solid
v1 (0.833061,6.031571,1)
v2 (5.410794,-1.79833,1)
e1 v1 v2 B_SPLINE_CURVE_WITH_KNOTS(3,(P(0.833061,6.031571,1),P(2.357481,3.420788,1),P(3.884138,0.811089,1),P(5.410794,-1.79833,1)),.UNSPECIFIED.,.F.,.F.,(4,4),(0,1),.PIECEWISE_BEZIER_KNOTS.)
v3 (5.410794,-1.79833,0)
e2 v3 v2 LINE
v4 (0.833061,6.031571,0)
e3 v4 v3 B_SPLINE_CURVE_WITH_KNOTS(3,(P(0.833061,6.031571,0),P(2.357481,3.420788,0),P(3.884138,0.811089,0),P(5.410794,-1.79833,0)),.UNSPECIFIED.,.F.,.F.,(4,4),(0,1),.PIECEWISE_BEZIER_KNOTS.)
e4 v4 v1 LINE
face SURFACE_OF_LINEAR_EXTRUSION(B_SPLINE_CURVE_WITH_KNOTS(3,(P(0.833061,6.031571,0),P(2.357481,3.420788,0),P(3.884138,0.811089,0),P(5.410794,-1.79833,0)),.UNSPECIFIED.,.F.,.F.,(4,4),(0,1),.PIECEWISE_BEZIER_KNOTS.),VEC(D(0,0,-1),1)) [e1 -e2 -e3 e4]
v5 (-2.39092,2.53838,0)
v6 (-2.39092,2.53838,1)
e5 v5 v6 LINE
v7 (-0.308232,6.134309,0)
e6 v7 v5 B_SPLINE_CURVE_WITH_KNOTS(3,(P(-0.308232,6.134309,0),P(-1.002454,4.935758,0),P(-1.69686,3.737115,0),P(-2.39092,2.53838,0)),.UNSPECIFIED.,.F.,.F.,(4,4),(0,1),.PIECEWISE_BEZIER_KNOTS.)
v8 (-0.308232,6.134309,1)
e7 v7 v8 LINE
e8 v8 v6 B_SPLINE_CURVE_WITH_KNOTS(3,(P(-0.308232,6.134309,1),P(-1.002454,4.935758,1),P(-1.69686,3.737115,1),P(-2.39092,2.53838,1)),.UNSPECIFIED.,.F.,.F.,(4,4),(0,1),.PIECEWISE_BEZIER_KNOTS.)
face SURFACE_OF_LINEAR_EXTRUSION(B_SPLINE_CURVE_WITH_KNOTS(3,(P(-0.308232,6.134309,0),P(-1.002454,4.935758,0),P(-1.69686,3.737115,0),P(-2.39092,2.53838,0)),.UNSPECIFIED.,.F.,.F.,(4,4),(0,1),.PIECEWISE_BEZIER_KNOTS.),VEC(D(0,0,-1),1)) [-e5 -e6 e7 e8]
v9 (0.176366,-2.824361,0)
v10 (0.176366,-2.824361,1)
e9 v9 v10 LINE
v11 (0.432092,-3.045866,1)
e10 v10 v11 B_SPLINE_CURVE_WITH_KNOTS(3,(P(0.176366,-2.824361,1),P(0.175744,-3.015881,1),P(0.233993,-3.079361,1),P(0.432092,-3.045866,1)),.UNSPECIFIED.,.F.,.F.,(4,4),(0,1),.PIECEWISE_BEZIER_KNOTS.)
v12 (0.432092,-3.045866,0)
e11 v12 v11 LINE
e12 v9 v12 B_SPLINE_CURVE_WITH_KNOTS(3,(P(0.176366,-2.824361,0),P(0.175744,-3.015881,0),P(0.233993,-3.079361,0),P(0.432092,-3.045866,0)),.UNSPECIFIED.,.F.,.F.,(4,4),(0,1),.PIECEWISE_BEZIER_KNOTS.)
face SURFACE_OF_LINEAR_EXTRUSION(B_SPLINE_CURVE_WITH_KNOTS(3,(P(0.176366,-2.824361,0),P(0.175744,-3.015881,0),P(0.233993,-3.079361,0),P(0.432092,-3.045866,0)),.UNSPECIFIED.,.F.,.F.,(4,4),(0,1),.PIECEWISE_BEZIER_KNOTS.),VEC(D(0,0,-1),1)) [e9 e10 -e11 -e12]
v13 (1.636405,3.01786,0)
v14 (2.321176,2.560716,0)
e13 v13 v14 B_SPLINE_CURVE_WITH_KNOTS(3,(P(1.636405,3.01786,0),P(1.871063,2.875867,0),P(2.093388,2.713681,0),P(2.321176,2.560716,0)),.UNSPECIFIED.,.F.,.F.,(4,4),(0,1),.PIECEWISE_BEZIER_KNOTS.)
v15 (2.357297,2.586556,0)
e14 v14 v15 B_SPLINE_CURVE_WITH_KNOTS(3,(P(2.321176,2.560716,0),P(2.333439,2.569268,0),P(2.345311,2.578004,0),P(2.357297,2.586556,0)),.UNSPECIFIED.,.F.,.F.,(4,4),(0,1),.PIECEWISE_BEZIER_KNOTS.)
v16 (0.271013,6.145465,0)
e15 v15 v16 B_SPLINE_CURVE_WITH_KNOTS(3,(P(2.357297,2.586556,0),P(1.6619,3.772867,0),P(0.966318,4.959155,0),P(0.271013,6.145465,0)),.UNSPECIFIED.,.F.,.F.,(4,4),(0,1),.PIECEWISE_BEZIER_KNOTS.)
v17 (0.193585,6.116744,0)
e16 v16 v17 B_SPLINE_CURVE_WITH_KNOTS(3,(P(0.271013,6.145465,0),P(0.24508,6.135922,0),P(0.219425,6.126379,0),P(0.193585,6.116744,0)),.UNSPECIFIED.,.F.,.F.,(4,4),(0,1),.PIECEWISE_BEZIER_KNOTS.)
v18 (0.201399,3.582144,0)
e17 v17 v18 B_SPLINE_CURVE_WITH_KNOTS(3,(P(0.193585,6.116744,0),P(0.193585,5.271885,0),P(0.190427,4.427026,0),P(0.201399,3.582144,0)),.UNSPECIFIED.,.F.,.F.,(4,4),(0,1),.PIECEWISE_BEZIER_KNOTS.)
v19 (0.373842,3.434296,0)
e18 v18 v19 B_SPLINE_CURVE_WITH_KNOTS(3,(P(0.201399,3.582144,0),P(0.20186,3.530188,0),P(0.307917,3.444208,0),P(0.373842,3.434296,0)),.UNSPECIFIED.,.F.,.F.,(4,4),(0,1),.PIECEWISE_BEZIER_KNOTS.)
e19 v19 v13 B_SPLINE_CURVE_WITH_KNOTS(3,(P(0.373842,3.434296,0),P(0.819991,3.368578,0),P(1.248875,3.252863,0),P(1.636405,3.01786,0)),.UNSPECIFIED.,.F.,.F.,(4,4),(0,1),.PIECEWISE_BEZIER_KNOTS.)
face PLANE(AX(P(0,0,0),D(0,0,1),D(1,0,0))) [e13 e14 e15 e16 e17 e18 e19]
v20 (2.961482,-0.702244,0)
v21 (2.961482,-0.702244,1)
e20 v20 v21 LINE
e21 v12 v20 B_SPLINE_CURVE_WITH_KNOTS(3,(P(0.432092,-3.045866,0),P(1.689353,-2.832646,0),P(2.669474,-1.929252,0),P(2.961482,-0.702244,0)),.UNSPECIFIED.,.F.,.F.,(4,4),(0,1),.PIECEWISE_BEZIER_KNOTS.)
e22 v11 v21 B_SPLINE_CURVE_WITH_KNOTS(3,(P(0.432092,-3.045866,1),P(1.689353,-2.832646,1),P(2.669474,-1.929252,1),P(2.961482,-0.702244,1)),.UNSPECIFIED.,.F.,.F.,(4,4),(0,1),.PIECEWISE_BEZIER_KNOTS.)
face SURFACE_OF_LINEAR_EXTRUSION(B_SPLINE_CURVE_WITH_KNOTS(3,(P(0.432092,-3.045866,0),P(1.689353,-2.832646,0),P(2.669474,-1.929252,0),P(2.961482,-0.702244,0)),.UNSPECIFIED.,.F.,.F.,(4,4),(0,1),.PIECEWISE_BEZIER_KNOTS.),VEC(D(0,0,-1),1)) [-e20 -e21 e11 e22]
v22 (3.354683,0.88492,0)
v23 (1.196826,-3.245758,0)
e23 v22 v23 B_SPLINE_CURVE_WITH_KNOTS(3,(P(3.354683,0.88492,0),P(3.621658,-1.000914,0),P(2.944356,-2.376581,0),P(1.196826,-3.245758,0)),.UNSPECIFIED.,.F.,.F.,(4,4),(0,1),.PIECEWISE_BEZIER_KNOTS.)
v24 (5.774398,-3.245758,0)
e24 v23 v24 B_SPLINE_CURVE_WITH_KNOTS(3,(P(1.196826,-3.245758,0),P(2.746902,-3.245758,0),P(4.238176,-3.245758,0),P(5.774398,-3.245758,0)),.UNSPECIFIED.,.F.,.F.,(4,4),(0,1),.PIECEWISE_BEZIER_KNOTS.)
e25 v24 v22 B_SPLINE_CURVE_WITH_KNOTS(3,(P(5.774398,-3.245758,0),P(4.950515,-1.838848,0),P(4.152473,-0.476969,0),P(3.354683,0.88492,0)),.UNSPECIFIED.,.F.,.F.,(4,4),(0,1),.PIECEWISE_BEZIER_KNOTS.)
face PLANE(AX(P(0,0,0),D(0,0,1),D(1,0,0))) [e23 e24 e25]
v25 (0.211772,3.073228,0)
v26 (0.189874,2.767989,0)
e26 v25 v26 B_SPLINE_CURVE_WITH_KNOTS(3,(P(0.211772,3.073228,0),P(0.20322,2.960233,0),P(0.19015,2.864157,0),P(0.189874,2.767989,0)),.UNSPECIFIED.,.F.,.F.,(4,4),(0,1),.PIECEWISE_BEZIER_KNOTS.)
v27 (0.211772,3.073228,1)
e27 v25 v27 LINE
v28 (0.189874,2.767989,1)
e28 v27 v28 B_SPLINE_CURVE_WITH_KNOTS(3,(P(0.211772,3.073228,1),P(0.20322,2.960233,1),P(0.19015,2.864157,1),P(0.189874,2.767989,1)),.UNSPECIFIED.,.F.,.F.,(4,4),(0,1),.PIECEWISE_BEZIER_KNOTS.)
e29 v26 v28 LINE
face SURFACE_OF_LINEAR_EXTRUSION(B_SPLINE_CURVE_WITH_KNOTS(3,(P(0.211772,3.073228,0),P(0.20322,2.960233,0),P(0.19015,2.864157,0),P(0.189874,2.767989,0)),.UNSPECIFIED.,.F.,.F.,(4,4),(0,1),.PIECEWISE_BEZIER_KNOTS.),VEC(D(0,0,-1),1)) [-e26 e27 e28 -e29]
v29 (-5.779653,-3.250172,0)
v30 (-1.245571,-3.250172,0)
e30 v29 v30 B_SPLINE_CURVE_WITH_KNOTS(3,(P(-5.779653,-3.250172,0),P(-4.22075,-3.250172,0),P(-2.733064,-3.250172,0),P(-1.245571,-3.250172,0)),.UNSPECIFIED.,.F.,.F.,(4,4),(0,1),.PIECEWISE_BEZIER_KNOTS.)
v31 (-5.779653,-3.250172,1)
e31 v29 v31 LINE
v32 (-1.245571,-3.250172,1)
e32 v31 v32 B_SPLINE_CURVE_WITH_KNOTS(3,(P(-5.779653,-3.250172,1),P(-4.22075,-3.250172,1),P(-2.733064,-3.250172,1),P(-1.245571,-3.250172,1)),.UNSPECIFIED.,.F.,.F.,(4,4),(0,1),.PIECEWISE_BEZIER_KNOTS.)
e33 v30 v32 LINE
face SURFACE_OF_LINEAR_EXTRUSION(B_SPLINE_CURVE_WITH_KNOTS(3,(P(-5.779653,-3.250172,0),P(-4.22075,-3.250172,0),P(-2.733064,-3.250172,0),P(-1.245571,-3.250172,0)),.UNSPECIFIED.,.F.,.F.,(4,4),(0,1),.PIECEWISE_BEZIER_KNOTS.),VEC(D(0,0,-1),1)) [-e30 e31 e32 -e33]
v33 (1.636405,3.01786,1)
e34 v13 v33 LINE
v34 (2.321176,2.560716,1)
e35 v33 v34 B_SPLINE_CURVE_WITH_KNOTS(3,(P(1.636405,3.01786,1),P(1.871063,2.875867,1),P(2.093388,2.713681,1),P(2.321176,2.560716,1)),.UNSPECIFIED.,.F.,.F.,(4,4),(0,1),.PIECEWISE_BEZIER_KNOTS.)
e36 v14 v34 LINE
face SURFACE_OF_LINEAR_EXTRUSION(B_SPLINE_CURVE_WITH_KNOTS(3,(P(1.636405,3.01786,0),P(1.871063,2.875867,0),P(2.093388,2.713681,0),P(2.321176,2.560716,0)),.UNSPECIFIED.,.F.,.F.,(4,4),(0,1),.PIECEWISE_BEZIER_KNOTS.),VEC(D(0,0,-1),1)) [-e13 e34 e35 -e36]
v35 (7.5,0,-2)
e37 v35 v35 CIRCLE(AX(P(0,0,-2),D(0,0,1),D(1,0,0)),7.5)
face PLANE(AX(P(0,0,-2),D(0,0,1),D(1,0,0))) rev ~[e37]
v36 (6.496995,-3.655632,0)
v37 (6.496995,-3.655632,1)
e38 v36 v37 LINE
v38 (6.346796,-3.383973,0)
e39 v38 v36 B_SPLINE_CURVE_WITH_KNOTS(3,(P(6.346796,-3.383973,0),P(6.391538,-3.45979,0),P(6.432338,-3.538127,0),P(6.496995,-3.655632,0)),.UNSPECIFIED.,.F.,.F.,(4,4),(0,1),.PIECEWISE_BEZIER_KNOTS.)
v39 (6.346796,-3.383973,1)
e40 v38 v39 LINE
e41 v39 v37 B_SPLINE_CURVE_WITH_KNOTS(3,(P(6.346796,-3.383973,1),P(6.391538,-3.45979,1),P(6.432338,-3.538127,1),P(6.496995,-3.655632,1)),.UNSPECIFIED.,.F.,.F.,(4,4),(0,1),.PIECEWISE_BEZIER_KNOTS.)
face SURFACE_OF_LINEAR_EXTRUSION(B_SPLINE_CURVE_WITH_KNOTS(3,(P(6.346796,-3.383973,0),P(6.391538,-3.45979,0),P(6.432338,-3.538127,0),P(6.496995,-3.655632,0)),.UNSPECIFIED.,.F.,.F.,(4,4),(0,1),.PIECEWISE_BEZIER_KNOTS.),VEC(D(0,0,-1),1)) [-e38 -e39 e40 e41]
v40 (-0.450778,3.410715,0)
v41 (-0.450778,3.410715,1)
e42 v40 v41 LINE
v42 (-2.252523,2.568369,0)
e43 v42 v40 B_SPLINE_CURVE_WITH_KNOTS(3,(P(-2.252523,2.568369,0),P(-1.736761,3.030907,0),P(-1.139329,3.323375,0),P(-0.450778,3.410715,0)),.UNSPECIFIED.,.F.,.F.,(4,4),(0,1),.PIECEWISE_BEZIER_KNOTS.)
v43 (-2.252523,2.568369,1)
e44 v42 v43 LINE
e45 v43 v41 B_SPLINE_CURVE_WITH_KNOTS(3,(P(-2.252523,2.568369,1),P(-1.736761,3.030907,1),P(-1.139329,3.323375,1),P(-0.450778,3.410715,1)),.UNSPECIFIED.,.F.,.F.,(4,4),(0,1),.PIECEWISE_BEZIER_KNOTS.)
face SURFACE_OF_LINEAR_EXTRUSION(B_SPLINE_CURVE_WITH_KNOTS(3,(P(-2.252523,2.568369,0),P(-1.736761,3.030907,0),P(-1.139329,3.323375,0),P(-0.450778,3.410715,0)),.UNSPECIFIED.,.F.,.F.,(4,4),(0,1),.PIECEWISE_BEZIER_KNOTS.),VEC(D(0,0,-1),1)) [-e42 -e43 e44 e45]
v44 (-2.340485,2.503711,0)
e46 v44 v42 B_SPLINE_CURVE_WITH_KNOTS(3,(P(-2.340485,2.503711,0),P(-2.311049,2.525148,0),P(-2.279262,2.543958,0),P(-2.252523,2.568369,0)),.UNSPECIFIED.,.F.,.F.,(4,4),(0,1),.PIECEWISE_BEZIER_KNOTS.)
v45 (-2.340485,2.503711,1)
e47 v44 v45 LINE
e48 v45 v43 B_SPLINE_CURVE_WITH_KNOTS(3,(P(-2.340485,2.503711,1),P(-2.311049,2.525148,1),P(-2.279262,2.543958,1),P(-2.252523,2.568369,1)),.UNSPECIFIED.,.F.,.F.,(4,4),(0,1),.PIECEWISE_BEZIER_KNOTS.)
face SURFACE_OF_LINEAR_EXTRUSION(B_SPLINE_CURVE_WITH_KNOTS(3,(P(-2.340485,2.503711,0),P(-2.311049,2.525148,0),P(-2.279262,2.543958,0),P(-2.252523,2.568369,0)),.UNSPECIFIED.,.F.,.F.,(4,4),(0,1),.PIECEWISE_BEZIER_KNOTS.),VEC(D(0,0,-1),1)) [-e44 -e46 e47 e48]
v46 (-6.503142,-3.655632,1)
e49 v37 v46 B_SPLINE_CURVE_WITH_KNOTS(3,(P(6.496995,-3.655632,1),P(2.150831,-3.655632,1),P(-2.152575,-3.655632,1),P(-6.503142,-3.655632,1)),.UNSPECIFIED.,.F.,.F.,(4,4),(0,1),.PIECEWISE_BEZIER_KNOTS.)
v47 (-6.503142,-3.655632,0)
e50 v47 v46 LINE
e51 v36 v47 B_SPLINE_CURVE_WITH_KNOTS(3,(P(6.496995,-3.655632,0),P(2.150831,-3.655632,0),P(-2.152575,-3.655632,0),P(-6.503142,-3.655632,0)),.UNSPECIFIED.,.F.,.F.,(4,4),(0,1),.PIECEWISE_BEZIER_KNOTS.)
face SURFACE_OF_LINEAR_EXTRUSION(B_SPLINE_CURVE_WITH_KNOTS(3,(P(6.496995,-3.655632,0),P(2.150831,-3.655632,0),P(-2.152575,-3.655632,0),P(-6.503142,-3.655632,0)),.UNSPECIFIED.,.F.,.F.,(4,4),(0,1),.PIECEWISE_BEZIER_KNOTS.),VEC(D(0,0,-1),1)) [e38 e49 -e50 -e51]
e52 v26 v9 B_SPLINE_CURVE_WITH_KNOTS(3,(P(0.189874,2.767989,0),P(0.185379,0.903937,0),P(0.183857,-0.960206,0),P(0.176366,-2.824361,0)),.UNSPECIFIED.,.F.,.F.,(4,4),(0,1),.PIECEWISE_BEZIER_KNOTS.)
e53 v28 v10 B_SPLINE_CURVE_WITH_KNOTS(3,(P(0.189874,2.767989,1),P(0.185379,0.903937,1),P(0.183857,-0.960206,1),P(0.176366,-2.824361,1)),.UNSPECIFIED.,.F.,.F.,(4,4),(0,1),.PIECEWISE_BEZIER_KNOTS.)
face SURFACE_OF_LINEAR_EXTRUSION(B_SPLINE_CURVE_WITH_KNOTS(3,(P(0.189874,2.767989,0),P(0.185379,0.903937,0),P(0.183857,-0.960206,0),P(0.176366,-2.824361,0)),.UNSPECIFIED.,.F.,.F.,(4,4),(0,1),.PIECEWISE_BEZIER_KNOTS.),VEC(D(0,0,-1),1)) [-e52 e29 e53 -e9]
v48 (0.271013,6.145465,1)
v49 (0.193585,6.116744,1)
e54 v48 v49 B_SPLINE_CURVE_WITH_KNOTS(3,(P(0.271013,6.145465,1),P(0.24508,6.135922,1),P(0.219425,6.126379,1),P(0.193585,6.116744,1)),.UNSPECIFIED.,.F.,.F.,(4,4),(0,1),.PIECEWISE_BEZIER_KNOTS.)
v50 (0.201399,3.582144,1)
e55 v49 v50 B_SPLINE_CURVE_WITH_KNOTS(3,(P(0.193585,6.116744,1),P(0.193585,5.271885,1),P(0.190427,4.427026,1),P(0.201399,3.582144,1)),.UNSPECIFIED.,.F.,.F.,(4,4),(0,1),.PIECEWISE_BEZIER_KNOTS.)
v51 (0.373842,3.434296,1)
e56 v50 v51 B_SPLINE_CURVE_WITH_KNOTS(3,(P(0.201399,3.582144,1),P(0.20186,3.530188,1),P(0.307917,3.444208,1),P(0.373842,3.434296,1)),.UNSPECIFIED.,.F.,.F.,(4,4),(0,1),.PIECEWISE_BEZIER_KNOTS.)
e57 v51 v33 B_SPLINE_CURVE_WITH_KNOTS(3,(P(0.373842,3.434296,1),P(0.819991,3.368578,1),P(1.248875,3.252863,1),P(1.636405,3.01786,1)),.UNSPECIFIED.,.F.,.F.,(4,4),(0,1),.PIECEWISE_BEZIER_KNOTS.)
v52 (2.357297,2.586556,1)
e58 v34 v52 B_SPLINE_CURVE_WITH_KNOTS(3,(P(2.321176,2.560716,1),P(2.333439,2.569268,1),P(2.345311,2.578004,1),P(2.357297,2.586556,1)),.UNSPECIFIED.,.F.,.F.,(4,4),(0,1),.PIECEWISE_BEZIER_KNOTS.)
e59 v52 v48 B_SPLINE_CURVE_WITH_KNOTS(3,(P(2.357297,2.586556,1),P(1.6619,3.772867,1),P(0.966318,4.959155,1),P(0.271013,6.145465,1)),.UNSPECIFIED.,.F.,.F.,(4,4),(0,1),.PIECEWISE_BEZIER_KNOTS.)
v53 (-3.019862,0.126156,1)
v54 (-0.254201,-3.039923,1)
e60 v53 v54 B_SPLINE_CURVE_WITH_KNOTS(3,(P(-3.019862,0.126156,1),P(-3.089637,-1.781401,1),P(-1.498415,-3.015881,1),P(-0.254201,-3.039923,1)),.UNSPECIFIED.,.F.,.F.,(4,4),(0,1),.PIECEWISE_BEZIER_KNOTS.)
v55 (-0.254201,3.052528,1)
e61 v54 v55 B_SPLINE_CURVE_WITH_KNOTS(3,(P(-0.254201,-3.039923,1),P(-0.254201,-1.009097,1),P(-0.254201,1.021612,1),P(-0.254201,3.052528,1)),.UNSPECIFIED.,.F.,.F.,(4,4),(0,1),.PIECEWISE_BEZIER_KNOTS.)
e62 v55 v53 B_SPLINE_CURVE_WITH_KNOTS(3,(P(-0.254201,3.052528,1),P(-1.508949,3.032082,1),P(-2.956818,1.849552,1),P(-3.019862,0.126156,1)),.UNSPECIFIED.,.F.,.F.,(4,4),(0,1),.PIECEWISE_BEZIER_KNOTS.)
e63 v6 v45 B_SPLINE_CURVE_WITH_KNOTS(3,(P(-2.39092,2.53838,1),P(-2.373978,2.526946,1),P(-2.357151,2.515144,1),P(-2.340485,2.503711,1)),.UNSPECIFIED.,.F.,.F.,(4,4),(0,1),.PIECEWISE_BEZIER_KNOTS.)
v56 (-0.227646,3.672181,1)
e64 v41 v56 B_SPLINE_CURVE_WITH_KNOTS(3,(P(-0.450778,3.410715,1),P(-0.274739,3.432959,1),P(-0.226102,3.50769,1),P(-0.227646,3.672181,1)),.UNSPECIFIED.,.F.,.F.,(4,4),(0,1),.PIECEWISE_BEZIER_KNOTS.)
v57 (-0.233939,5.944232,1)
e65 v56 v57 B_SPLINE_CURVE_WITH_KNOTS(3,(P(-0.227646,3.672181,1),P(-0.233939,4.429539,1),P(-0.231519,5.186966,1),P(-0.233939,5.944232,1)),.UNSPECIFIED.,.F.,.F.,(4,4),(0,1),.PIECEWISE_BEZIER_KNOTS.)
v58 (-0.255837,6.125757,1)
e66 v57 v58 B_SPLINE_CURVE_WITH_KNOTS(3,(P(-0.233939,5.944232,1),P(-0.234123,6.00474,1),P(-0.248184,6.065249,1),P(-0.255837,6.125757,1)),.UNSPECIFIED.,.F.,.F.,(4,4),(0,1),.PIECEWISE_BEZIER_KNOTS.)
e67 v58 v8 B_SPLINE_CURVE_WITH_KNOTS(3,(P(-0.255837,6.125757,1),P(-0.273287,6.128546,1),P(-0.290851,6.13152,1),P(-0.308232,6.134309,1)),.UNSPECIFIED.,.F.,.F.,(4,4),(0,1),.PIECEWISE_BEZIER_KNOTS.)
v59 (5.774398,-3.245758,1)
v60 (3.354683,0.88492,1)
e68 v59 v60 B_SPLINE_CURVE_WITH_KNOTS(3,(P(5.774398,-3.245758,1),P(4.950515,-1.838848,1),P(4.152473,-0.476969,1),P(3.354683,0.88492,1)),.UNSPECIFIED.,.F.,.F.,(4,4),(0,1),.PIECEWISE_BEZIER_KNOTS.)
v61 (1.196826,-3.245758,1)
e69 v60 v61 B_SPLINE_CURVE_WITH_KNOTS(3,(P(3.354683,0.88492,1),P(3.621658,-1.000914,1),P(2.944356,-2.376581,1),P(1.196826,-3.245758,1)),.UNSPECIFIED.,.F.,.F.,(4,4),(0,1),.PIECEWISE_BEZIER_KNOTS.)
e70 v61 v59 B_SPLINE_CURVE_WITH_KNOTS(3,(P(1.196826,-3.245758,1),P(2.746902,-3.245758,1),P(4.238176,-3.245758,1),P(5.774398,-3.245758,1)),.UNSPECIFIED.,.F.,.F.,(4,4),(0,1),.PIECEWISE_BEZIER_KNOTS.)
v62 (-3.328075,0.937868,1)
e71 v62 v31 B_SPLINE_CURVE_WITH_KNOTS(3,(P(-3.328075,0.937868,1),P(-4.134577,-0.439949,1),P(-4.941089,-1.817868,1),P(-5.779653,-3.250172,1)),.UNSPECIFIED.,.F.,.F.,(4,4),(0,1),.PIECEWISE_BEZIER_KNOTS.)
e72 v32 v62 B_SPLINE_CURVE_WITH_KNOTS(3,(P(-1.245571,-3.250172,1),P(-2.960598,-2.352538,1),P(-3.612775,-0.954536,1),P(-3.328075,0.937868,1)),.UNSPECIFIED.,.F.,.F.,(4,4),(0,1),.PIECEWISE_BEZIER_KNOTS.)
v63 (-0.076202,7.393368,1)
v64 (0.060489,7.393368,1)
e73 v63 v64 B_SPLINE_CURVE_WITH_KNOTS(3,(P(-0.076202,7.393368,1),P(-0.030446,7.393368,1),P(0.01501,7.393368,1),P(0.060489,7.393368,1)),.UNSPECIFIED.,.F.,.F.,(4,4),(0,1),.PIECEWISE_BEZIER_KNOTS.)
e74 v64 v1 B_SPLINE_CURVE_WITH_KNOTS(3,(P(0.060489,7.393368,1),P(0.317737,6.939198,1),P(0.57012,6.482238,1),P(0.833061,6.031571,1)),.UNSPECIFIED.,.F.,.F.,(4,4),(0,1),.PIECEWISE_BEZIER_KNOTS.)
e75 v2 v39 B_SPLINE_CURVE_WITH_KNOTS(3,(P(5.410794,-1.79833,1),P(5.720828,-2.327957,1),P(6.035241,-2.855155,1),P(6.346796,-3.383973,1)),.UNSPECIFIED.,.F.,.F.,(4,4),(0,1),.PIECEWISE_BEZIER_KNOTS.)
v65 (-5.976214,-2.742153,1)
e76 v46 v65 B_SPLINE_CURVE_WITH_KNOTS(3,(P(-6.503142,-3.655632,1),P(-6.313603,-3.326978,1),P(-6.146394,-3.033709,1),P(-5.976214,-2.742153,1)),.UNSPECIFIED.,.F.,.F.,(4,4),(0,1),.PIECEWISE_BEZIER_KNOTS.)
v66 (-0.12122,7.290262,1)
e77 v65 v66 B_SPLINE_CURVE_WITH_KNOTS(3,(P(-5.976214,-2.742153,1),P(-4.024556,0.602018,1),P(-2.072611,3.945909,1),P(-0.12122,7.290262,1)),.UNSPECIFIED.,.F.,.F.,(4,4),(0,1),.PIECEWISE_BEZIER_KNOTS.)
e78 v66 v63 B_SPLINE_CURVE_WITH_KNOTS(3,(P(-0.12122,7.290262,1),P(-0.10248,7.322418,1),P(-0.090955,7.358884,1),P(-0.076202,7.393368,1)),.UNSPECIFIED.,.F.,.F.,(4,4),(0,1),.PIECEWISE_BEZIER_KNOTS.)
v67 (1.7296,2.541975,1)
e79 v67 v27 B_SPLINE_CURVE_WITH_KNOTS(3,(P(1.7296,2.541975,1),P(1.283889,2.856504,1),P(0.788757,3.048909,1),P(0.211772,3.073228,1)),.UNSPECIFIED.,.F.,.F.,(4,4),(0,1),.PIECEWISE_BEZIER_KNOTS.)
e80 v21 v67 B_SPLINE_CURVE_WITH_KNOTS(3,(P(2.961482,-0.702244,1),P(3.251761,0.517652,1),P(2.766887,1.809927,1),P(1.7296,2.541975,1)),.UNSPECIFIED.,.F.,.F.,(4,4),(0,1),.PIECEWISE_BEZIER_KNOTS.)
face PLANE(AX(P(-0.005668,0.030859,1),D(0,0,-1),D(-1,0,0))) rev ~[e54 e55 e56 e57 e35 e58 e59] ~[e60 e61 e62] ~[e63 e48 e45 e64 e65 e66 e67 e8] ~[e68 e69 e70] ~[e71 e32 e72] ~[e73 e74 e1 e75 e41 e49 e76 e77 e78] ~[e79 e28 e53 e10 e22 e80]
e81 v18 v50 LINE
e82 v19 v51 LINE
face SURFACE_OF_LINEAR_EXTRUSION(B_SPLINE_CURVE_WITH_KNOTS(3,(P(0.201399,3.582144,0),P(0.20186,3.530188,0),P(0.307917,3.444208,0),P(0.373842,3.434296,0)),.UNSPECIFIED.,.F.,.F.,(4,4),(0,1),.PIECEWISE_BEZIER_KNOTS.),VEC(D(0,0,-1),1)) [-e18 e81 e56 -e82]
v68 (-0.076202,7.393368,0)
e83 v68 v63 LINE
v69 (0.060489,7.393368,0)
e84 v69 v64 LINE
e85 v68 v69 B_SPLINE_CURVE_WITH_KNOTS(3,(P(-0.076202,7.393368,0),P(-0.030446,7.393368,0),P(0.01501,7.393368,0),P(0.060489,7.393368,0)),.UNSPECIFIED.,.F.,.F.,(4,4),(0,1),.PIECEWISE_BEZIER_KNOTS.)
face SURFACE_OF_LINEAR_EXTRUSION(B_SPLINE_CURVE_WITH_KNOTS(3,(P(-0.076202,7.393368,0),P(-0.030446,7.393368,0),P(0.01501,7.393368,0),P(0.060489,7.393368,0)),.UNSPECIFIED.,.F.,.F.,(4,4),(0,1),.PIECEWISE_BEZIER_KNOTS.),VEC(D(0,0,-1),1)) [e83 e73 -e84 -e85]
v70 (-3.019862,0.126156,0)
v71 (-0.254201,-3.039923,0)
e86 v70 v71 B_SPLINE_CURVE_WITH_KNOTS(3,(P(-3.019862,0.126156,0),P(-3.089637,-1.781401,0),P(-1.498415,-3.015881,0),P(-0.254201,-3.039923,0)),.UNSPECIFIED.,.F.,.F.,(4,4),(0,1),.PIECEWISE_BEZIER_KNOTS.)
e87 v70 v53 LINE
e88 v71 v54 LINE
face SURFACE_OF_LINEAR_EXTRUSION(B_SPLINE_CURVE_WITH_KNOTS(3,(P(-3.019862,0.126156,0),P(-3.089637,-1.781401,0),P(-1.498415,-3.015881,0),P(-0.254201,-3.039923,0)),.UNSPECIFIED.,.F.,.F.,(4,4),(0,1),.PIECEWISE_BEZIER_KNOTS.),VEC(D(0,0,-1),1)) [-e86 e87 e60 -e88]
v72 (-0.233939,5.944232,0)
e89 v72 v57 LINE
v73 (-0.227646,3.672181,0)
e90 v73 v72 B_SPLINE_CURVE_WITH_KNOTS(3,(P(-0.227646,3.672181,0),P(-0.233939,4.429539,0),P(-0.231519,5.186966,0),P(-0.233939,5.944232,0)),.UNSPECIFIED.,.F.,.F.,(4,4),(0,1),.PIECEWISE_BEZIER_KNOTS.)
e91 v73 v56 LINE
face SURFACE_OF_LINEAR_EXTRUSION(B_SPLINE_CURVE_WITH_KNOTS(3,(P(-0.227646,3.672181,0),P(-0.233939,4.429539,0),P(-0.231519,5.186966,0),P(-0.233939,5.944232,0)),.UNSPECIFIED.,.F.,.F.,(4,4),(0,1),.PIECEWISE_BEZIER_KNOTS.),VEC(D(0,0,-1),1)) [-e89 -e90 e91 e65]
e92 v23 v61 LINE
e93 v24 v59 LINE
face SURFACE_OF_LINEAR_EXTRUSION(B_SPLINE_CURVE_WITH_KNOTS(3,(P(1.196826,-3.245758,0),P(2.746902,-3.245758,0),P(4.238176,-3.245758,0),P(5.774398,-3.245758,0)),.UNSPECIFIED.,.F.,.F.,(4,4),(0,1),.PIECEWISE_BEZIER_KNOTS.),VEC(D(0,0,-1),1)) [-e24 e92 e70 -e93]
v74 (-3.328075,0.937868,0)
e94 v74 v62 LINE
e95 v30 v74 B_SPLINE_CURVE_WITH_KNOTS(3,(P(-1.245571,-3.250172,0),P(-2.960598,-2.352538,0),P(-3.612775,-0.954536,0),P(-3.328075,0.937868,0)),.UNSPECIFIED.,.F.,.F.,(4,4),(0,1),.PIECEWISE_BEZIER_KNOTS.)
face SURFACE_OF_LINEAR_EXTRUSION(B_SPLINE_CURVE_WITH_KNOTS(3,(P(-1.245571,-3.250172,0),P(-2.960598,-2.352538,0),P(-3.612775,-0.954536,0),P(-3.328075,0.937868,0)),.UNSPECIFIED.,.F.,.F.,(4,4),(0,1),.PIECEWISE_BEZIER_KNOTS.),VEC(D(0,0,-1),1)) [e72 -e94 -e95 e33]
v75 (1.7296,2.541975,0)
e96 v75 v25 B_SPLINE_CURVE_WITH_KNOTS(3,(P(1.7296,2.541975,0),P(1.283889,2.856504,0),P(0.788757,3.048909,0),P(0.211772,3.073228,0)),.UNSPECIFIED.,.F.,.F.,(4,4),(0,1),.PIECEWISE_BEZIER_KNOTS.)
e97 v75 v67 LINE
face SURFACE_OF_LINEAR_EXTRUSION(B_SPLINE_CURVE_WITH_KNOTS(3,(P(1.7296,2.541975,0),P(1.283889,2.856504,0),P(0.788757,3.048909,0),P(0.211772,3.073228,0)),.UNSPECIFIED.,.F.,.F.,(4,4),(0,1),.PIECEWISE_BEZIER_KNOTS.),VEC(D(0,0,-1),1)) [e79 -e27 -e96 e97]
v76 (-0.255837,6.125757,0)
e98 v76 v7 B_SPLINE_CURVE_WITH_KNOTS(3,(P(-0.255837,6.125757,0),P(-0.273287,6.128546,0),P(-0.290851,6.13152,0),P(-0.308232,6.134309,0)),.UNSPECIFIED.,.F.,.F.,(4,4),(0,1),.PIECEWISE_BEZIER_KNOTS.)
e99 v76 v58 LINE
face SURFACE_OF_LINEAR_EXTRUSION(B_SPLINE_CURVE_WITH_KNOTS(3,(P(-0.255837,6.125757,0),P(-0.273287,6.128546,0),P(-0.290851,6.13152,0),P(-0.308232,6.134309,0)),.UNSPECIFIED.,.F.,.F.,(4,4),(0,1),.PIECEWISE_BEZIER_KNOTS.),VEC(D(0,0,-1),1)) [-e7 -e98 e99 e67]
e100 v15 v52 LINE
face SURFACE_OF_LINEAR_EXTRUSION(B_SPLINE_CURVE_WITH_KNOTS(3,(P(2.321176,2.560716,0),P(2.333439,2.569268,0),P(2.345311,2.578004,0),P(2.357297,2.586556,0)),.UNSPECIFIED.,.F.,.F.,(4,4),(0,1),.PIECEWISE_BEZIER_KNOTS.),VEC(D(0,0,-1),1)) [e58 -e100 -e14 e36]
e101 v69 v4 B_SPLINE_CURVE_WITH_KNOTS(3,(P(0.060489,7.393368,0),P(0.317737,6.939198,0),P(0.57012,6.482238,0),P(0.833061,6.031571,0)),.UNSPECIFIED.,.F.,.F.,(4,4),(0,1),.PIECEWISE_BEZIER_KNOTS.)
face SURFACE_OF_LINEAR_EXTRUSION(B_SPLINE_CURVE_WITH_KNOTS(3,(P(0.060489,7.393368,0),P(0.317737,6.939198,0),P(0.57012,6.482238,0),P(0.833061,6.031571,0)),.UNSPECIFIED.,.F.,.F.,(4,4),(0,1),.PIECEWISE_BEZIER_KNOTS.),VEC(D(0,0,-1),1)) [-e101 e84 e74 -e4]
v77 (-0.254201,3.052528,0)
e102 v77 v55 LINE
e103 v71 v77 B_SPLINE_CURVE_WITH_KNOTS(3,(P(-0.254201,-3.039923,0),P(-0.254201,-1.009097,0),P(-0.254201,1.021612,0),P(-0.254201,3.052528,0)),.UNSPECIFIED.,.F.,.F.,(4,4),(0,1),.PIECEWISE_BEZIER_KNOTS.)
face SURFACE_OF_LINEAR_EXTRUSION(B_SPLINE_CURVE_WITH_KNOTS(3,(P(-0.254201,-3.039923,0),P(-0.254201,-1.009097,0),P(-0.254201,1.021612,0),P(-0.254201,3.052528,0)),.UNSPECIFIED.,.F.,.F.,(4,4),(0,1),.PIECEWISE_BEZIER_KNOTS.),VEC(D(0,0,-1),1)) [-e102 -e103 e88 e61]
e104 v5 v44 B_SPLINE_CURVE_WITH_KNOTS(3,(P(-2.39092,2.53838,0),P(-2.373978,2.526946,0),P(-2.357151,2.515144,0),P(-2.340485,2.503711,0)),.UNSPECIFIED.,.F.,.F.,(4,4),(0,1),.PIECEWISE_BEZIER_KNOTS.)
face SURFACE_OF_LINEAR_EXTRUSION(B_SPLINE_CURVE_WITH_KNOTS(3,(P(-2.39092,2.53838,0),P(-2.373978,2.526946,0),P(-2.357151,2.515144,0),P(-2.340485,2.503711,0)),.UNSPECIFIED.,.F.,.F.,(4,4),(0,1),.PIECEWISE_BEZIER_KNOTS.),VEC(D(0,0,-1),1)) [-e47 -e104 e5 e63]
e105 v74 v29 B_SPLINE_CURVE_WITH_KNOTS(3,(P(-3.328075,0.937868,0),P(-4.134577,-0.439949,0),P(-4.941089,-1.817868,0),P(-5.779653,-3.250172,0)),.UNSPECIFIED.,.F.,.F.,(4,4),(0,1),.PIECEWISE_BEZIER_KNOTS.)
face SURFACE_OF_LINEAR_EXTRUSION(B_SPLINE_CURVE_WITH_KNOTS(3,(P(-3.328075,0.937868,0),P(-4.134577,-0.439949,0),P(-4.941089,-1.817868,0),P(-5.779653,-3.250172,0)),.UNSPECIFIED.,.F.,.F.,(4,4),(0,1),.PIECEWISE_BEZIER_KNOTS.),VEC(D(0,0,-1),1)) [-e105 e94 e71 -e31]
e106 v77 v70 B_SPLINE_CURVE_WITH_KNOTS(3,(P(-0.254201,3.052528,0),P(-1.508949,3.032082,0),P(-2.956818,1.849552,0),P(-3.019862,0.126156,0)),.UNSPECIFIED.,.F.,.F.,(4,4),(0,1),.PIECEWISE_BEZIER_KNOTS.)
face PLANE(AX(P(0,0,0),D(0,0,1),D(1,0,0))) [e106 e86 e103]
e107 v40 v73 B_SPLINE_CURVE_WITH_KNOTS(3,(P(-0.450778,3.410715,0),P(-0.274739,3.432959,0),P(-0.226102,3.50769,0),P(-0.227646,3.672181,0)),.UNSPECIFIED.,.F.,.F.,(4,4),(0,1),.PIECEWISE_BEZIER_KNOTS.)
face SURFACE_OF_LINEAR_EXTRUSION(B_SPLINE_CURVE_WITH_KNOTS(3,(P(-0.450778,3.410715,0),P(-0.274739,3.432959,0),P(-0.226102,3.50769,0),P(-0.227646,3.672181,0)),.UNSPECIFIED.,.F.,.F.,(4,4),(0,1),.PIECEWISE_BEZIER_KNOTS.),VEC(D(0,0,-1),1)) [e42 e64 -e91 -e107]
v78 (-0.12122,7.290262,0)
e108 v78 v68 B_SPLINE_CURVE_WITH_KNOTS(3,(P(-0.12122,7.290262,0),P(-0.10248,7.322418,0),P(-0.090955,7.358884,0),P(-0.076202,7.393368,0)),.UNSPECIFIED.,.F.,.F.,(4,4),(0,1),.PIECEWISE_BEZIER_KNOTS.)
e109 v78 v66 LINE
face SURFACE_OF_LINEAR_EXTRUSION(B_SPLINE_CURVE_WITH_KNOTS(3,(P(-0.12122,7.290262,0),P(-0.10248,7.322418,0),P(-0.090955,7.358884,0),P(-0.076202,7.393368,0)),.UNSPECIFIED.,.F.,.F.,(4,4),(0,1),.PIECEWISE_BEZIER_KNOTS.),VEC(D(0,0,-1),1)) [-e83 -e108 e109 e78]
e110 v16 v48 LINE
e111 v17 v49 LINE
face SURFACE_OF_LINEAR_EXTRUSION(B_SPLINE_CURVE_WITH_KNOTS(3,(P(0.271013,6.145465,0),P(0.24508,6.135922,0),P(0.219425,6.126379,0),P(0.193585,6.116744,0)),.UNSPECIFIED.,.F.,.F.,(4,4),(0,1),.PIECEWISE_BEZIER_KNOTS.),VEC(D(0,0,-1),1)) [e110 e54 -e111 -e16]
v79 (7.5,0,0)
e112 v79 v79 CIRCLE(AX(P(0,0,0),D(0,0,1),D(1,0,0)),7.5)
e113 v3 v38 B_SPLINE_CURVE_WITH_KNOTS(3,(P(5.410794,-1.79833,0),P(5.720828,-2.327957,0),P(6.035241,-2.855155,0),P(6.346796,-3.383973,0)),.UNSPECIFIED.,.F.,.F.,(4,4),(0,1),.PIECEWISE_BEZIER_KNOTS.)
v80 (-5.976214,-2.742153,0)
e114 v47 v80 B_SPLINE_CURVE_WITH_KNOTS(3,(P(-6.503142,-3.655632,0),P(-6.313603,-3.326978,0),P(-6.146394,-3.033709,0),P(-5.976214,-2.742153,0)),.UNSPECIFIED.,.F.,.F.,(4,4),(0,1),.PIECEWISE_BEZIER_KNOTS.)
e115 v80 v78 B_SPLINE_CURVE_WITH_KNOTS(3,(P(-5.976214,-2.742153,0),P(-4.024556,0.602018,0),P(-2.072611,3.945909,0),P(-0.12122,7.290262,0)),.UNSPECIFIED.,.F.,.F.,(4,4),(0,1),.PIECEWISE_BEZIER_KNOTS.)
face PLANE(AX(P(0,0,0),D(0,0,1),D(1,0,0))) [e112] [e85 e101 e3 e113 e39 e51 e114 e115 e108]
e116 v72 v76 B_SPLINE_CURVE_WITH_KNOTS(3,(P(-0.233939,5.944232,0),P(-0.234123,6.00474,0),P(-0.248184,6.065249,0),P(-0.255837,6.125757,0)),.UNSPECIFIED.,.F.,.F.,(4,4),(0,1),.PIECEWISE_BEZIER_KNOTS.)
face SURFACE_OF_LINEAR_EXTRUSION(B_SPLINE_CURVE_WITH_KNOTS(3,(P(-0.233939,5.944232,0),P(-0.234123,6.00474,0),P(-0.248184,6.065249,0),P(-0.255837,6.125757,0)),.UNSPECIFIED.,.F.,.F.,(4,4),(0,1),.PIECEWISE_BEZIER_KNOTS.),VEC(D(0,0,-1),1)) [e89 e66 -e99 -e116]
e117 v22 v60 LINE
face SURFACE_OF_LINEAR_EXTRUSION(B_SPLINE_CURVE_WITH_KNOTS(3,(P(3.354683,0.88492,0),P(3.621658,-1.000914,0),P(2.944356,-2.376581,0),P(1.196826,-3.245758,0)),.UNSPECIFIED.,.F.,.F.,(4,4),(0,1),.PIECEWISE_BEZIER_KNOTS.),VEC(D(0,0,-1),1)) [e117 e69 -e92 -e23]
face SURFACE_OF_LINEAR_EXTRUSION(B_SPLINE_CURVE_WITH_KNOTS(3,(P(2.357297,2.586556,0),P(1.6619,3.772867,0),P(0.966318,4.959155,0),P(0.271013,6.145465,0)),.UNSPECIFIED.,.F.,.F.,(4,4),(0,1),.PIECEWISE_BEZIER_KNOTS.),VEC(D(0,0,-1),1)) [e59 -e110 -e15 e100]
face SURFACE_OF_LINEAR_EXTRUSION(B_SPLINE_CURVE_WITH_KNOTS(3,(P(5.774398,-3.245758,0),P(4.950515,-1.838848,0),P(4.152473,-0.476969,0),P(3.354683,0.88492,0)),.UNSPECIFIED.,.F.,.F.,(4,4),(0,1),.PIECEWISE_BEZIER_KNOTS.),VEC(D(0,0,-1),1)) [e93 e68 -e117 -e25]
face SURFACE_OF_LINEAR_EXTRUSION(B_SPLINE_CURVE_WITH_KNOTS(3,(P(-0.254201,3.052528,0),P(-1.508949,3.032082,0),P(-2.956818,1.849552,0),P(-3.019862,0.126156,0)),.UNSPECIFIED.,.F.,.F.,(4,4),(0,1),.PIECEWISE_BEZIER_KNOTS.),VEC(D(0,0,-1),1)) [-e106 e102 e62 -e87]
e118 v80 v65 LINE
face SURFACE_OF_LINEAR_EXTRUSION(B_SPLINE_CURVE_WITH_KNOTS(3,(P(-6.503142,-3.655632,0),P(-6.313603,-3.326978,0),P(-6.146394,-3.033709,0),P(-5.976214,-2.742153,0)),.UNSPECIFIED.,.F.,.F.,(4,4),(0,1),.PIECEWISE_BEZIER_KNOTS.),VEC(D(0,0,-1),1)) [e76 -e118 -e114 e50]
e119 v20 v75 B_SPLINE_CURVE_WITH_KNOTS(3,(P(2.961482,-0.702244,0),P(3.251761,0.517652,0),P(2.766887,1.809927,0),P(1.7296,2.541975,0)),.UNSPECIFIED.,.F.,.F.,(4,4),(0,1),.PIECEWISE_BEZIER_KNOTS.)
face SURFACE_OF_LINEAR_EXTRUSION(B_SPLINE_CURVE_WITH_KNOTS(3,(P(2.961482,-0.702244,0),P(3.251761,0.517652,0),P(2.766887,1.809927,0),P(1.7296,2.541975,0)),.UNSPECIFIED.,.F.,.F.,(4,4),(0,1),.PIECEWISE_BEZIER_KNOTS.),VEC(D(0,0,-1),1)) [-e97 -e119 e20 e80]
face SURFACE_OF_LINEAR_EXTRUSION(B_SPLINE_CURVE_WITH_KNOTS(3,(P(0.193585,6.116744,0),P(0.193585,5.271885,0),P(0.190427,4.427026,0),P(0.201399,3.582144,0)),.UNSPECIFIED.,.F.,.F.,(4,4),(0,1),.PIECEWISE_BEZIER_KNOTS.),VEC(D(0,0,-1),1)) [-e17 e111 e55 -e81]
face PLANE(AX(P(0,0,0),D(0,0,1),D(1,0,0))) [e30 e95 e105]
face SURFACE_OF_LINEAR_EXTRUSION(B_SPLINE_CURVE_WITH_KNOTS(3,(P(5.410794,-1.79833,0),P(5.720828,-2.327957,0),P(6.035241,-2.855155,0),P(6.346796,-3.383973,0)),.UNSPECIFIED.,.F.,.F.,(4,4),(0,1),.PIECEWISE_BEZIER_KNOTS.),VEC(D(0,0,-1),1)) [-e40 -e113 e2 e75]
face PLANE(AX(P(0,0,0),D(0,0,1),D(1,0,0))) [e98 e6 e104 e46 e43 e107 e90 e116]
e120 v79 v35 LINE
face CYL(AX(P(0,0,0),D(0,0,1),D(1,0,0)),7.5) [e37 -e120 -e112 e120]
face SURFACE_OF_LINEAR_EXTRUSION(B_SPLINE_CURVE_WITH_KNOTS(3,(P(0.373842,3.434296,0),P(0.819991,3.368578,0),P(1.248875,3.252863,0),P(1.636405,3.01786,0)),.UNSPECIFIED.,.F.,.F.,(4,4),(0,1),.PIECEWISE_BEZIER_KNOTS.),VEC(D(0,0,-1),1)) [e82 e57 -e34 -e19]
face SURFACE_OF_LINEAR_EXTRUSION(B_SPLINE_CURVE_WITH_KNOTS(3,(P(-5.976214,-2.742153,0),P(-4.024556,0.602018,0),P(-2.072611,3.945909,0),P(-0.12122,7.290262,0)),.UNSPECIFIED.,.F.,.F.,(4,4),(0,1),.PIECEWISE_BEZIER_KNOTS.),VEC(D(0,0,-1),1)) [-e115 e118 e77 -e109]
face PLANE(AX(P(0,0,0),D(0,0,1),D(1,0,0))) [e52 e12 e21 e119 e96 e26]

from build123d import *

# Parameters (mm, degrees)
F0_R     = 7.5
F2_DEPTH = 2
F3_DEPTH = 1


with BuildPart() as f2:
    # F0 (on Top) → F2 (new body)
    with BuildSketch(Plane.XY):
        Circle(F0_R)
    extrude(amount=-F2_DEPTH)

    # F1 (on Top) → F3 (join)
    with BuildSketch(Plane.XY):
        with BuildLine():
            add(Edge.make_bspline(
                [(0.0604885835, 7.3933677407), (0.3177365835, 6.9391977407), (0.5701195835, 6.4822377407), (0.8330605835, 6.0315707407)],
                knots=[0, 0, 0, 0, 1, 1, 1, 1], degree=3))
            add(Edge.make_bspline(
                [(-0.0762024165, 7.3933677407), (-0.0304464165, 7.3933677407), (0.0150095835, 7.3933677407), (0.0604885835, 7.3933677407)],
                knots=[0, 0, 0, 0, 1, 1, 1, 1], degree=3))
            add(Edge.make_bspline(
                [(-0.1212204165, 7.2902617407), (-0.1024804165, 7.3224177407), (-0.0909554165, 7.3588837407), (-0.0762024165, 7.3933677407)],
                knots=[0, 0, 0, 0, 1, 1, 1, 1], degree=3))
            add(Edge.make_bspline(
                [(-5.9762144165, -2.7421532593), (-4.0245564165, 0.6020177407), (-2.0726114165, 3.9459087407), (-0.1212204165, 7.2902617407)],
                knots=[0, 0, 0, 0, 1, 1, 1, 1], degree=3))
            add(Edge.make_bspline(
                [(-6.5031424165, -3.6556322593), (-6.3136034165, -3.3269782593), (-6.1463944165, -3.0337092593), (-5.9762144165, -2.7421532593)],
                knots=[0, 0, 0, 0, 1, 1, 1, 1], degree=3))
            add(Edge.make_bspline(
                [(6.4969945835, -3.6556322593), (2.1508305835, -3.6556322593), (-2.1525754165, -3.6556322593), (-6.5031424165, -3.6556322593)],
                knots=[0, 0, 0, 0, 1, 1, 1, 1], degree=3))
            add(Edge.make_bspline(
                [(6.3467955835, -3.3839732593), (6.3915375835, -3.4597902593), (6.4323375835, -3.5381272593), (6.4969945835, -3.6556322593)],
                knots=[0, 0, 0, 0, 1, 1, 1, 1], degree=3))
            add(Edge.make_bspline(
                [(5.4107935835, -1.7983302593), (5.7208275835, -2.3279572593), (6.0352405835, -2.8551552593), (6.3467955835, -3.3839732593)],
                knots=[0, 0, 0, 0, 1, 1, 1, 1], degree=3))
            add(Edge.make_bspline(
                [(0.8330605835, 6.0315707407), (2.3574805835, 3.4207877407), (3.8841375835, 0.8110887407), (5.4107935835, -1.7983302593)],
                knots=[0, 0, 0, 0, 1, 1, 1, 1], degree=3))
        make_face()
        with BuildLine():
            add(Edge.make_bspline(
                [(-5.7796534165, -3.2501722593), (-4.2207504165, -3.2501722593), (-2.7330644165, -3.2501722593), (-1.2455714165, -3.2501722593)],
                knots=[0, 0, 0, 0, 1, 1, 1, 1], degree=3))
            add(Edge.make_bspline(
                [(-3.3280754165, 0.9378677407), (-4.1345774165, -0.4399492593), (-4.9410894165, -1.8178682593), (-5.7796534165, -3.2501722593)],
                knots=[0, 0, 0, 0, 1, 1, 1, 1], degree=3))
            add(Edge.make_bspline(
                [(-1.2455714165, -3.2501722593), (-2.9605984165, -2.3525382593), (-3.6127754165, -0.9545362593), (-3.3280754165, 0.9378677407)],
                knots=[0, 0, 0, 0, 1, 1, 1, 1], degree=3))
        make_face(mode=Mode.SUBTRACT)
        with BuildLine():
            add(Edge.make_bspline(
                [(-0.2542014165, 3.0525277407), (-1.5089494165, 3.0320817407), (-2.9568184165, 1.8495517407), (-3.0198624165, 0.1261557407)],
                knots=[0, 0, 0, 0, 1, 1, 1, 1], degree=3))
            add(Edge.make_bspline(
                [(-0.2542014165, -3.0399232593), (-0.2542014165, -1.0090972593), (-0.2542014165, 1.0216117407), (-0.2542014165, 3.0525277407)],
                knots=[0, 0, 0, 0, 1, 1, 1, 1], degree=3))
            add(Edge.make_bspline(
                [(-3.0198624165, 0.1261557407), (-3.0896374165, -1.7814012593), (-1.4984154165, -3.0158812593), (-0.2542014165, -3.0399232593)],
                knots=[0, 0, 0, 0, 1, 1, 1, 1], degree=3))
        make_face(mode=Mode.SUBTRACT)
        with BuildLine():
            add(Edge.make_bspline(
                [(3.3546825835, 0.8849197407), (3.6216575835, -1.0009142593), (2.9443555835, -2.3765812593), (1.1968255835, -3.2457582593)],
                knots=[0, 0, 0, 0, 1, 1, 1, 1], degree=3))
            add(Edge.make_bspline(
                [(5.7743975835, -3.2457582593), (4.9505145835, -1.8388482593), (4.1524725835, -0.4769692593), (3.3546825835, 0.8849197407)],
                knots=[0, 0, 0, 0, 1, 1, 1, 1], degree=3))
            add(Edge.make_bspline(
                [(1.1968255835, -3.2457582593), (2.7469015835, -3.2457582593), (4.2381755835, -3.2457582593), (5.7743975835, -3.2457582593)],
                knots=[0, 0, 0, 0, 1, 1, 1, 1], degree=3))
        make_face(mode=Mode.SUBTRACT)
        with BuildLine():
            add(Edge.make_bspline(
                [(0.2117715835, 3.0732277407), (0.2032195835, 2.9602327407), (0.1901495835, 2.8641567407), (0.1898735835, 2.7679887407)],
                knots=[0, 0, 0, 0, 1, 1, 1, 1], degree=3))
            add(Edge.make_bspline(
                [(1.7295995835, 2.5419747407), (1.2838885835, 2.8565037407), (0.7887565835, 3.0489087407), (0.2117715835, 3.0732277407)],
                knots=[0, 0, 0, 0, 1, 1, 1, 1], degree=3))
            add(Edge.make_bspline(
                [(2.9614815835, -0.7022442593), (3.2517605835, 0.5176517407), (2.7668865835, 1.8099267407), (1.7295995835, 2.5419747407)],
                knots=[0, 0, 0, 0, 1, 1, 1, 1], degree=3))
            add(Edge.make_bspline(
                [(0.4320915835, -3.0458662593), (1.6893525835, -2.8326462593), (2.6694735835, -1.9292522593), (2.9614815835, -0.7022442593)],
                knots=[0, 0, 0, 0, 1, 1, 1, 1], degree=3))
            add(Edge.make_bspline(
                [(0.1763655835, -2.8243612593), (0.1757435835, -3.0158812593), (0.2339925835, -3.0793612593), (0.4320915835, -3.0458662593)],
                knots=[0, 0, 0, 0, 1, 1, 1, 1], degree=3))
            add(Edge.make_bspline(
                [(0.1898735835, 2.7679887407), (0.1853785835, 0.9039367407), (0.1838565835, -0.9602062593), (0.1763655835, -2.8243612593)],
                knots=[0, 0, 0, 0, 1, 1, 1, 1], degree=3))
        make_face(mode=Mode.SUBTRACT)
        with BuildLine():
            add(Edge.make_bspline(
                [(-2.3909204165, 2.5383797407), (-2.3739784165, 2.5269457407), (-2.3571514165, 2.5151437407), (-2.3404854165, 2.5037107407)],
                knots=[0, 0, 0, 0, 1, 1, 1, 1], degree=3))
            add(Edge.make_bspline(
                [(-0.3082324165, 6.1343087407), (-1.0024544165, 4.9357577407), (-1.6968604165, 3.7371147407), (-2.3909204165, 2.5383797407)],
                knots=[0, 0, 0, 0, 1, 1, 1, 1], degree=3))
            add(Edge.make_bspline(
                [(-0.2558374165, 6.1257567407), (-0.2732874165, 6.1285457407), (-0.2908514165, 6.1315197407), (-0.3082324165, 6.1343087407)],
                knots=[0, 0, 0, 0, 1, 1, 1, 1], degree=3))
            add(Edge.make_bspline(
                [(-0.2339394165, 5.9442317407), (-0.2341234165, 6.0047397407), (-0.2481844165, 6.0652487407), (-0.2558374165, 6.1257567407)],
                knots=[0, 0, 0, 0, 1, 1, 1, 1], degree=3))
            add(Edge.make_bspline(
                [(-0.2276464165, 3.6721807407), (-0.2339394165, 4.4295387407), (-0.2315194165, 5.1869657407), (-0.2339394165, 5.9442317407)],
                knots=[0, 0, 0, 0, 1, 1, 1, 1], degree=3))
            add(Edge.make_bspline(
                [(-0.4507784165, 3.4107147407), (-0.2747394165, 3.4329587407), (-0.2261024165, 3.5076897407), (-0.2276464165, 3.6721807407)],
                knots=[0, 0, 0, 0, 1, 1, 1, 1], degree=3))
            add(Edge.make_bspline(
                [(-2.2525234165, 2.5683687407), (-1.7367614165, 3.0309067407), (-1.1393294165, 3.3233747407), (-0.4507784165, 3.4107147407)],
                knots=[0, 0, 0, 0, 1, 1, 1, 1], degree=3))
            add(Edge.make_bspline(
                [(-2.3404854165, 2.5037107407), (-2.3110494165, 2.5251477407), (-2.2792624165, 2.5439577407), (-2.2525234165, 2.5683687407)],
                knots=[0, 0, 0, 0, 1, 1, 1, 1], degree=3))
        make_face(mode=Mode.SUBTRACT)
        with BuildLine():
            add(Edge.make_bspline(
                [(2.3211755835, 2.5607157407), (2.3334385835, 2.5692677407), (2.3453105835, 2.5780037407), (2.3572965835, 2.5865557407)],
                knots=[0, 0, 0, 0, 1, 1, 1, 1], degree=3))
            add(Edge.make_bspline(
                [(1.6364045835, 3.0178597407), (1.8710625835, 2.8758667407), (2.0933875835, 2.7136807407), (2.3211755835, 2.5607157407)],
                knots=[0, 0, 0, 0, 1, 1, 1, 1], degree=3))
            add(Edge.make_bspline(
                [(0.3738415835, 3.4342957407), (0.8199905835, 3.3685777407), (1.2488745835, 3.2528627407), (1.6364045835, 3.0178597407)],
                knots=[0, 0, 0, 0, 1, 1, 1, 1], degree=3))
            add(Edge.make_bspline(
                [(0.2013985835, 3.5821437407), (0.2018595835, 3.5301877407), (0.3079165835, 3.4442077407), (0.3738415835, 3.4342957407)],
                knots=[0, 0, 0, 0, 1, 1, 1, 1], degree=3))
            add(Edge.make_bspline(
                [(0.1935845835, 6.1167437407), (0.1935845835, 5.2718847407), (0.1904265835, 4.4270257407), (0.2013985835, 3.5821437407)],
                knots=[0, 0, 0, 0, 1, 1, 1, 1], degree=3))
            add(Edge.make_bspline(
                [(0.2710125835, 6.1454647407), (0.2450795835, 6.1359217407), (0.2194245835, 6.1263787407), (0.1935845835, 6.1167437407)],
                knots=[0, 0, 0, 0, 1, 1, 1, 1], degree=3))
            add(Edge.make_bspline(
                [(2.3572965835, 2.5865557407), (1.6618995835, 3.7728667407), (0.9663175835, 4.9591547407), (0.2710125835, 6.1454647407)],
                knots=[0, 0, 0, 0, 1, 1, 1, 1], degree=3))
        make_face(mode=Mode.SUBTRACT)
    extrude(amount=F3_DEPTH)


solid = f2.part
